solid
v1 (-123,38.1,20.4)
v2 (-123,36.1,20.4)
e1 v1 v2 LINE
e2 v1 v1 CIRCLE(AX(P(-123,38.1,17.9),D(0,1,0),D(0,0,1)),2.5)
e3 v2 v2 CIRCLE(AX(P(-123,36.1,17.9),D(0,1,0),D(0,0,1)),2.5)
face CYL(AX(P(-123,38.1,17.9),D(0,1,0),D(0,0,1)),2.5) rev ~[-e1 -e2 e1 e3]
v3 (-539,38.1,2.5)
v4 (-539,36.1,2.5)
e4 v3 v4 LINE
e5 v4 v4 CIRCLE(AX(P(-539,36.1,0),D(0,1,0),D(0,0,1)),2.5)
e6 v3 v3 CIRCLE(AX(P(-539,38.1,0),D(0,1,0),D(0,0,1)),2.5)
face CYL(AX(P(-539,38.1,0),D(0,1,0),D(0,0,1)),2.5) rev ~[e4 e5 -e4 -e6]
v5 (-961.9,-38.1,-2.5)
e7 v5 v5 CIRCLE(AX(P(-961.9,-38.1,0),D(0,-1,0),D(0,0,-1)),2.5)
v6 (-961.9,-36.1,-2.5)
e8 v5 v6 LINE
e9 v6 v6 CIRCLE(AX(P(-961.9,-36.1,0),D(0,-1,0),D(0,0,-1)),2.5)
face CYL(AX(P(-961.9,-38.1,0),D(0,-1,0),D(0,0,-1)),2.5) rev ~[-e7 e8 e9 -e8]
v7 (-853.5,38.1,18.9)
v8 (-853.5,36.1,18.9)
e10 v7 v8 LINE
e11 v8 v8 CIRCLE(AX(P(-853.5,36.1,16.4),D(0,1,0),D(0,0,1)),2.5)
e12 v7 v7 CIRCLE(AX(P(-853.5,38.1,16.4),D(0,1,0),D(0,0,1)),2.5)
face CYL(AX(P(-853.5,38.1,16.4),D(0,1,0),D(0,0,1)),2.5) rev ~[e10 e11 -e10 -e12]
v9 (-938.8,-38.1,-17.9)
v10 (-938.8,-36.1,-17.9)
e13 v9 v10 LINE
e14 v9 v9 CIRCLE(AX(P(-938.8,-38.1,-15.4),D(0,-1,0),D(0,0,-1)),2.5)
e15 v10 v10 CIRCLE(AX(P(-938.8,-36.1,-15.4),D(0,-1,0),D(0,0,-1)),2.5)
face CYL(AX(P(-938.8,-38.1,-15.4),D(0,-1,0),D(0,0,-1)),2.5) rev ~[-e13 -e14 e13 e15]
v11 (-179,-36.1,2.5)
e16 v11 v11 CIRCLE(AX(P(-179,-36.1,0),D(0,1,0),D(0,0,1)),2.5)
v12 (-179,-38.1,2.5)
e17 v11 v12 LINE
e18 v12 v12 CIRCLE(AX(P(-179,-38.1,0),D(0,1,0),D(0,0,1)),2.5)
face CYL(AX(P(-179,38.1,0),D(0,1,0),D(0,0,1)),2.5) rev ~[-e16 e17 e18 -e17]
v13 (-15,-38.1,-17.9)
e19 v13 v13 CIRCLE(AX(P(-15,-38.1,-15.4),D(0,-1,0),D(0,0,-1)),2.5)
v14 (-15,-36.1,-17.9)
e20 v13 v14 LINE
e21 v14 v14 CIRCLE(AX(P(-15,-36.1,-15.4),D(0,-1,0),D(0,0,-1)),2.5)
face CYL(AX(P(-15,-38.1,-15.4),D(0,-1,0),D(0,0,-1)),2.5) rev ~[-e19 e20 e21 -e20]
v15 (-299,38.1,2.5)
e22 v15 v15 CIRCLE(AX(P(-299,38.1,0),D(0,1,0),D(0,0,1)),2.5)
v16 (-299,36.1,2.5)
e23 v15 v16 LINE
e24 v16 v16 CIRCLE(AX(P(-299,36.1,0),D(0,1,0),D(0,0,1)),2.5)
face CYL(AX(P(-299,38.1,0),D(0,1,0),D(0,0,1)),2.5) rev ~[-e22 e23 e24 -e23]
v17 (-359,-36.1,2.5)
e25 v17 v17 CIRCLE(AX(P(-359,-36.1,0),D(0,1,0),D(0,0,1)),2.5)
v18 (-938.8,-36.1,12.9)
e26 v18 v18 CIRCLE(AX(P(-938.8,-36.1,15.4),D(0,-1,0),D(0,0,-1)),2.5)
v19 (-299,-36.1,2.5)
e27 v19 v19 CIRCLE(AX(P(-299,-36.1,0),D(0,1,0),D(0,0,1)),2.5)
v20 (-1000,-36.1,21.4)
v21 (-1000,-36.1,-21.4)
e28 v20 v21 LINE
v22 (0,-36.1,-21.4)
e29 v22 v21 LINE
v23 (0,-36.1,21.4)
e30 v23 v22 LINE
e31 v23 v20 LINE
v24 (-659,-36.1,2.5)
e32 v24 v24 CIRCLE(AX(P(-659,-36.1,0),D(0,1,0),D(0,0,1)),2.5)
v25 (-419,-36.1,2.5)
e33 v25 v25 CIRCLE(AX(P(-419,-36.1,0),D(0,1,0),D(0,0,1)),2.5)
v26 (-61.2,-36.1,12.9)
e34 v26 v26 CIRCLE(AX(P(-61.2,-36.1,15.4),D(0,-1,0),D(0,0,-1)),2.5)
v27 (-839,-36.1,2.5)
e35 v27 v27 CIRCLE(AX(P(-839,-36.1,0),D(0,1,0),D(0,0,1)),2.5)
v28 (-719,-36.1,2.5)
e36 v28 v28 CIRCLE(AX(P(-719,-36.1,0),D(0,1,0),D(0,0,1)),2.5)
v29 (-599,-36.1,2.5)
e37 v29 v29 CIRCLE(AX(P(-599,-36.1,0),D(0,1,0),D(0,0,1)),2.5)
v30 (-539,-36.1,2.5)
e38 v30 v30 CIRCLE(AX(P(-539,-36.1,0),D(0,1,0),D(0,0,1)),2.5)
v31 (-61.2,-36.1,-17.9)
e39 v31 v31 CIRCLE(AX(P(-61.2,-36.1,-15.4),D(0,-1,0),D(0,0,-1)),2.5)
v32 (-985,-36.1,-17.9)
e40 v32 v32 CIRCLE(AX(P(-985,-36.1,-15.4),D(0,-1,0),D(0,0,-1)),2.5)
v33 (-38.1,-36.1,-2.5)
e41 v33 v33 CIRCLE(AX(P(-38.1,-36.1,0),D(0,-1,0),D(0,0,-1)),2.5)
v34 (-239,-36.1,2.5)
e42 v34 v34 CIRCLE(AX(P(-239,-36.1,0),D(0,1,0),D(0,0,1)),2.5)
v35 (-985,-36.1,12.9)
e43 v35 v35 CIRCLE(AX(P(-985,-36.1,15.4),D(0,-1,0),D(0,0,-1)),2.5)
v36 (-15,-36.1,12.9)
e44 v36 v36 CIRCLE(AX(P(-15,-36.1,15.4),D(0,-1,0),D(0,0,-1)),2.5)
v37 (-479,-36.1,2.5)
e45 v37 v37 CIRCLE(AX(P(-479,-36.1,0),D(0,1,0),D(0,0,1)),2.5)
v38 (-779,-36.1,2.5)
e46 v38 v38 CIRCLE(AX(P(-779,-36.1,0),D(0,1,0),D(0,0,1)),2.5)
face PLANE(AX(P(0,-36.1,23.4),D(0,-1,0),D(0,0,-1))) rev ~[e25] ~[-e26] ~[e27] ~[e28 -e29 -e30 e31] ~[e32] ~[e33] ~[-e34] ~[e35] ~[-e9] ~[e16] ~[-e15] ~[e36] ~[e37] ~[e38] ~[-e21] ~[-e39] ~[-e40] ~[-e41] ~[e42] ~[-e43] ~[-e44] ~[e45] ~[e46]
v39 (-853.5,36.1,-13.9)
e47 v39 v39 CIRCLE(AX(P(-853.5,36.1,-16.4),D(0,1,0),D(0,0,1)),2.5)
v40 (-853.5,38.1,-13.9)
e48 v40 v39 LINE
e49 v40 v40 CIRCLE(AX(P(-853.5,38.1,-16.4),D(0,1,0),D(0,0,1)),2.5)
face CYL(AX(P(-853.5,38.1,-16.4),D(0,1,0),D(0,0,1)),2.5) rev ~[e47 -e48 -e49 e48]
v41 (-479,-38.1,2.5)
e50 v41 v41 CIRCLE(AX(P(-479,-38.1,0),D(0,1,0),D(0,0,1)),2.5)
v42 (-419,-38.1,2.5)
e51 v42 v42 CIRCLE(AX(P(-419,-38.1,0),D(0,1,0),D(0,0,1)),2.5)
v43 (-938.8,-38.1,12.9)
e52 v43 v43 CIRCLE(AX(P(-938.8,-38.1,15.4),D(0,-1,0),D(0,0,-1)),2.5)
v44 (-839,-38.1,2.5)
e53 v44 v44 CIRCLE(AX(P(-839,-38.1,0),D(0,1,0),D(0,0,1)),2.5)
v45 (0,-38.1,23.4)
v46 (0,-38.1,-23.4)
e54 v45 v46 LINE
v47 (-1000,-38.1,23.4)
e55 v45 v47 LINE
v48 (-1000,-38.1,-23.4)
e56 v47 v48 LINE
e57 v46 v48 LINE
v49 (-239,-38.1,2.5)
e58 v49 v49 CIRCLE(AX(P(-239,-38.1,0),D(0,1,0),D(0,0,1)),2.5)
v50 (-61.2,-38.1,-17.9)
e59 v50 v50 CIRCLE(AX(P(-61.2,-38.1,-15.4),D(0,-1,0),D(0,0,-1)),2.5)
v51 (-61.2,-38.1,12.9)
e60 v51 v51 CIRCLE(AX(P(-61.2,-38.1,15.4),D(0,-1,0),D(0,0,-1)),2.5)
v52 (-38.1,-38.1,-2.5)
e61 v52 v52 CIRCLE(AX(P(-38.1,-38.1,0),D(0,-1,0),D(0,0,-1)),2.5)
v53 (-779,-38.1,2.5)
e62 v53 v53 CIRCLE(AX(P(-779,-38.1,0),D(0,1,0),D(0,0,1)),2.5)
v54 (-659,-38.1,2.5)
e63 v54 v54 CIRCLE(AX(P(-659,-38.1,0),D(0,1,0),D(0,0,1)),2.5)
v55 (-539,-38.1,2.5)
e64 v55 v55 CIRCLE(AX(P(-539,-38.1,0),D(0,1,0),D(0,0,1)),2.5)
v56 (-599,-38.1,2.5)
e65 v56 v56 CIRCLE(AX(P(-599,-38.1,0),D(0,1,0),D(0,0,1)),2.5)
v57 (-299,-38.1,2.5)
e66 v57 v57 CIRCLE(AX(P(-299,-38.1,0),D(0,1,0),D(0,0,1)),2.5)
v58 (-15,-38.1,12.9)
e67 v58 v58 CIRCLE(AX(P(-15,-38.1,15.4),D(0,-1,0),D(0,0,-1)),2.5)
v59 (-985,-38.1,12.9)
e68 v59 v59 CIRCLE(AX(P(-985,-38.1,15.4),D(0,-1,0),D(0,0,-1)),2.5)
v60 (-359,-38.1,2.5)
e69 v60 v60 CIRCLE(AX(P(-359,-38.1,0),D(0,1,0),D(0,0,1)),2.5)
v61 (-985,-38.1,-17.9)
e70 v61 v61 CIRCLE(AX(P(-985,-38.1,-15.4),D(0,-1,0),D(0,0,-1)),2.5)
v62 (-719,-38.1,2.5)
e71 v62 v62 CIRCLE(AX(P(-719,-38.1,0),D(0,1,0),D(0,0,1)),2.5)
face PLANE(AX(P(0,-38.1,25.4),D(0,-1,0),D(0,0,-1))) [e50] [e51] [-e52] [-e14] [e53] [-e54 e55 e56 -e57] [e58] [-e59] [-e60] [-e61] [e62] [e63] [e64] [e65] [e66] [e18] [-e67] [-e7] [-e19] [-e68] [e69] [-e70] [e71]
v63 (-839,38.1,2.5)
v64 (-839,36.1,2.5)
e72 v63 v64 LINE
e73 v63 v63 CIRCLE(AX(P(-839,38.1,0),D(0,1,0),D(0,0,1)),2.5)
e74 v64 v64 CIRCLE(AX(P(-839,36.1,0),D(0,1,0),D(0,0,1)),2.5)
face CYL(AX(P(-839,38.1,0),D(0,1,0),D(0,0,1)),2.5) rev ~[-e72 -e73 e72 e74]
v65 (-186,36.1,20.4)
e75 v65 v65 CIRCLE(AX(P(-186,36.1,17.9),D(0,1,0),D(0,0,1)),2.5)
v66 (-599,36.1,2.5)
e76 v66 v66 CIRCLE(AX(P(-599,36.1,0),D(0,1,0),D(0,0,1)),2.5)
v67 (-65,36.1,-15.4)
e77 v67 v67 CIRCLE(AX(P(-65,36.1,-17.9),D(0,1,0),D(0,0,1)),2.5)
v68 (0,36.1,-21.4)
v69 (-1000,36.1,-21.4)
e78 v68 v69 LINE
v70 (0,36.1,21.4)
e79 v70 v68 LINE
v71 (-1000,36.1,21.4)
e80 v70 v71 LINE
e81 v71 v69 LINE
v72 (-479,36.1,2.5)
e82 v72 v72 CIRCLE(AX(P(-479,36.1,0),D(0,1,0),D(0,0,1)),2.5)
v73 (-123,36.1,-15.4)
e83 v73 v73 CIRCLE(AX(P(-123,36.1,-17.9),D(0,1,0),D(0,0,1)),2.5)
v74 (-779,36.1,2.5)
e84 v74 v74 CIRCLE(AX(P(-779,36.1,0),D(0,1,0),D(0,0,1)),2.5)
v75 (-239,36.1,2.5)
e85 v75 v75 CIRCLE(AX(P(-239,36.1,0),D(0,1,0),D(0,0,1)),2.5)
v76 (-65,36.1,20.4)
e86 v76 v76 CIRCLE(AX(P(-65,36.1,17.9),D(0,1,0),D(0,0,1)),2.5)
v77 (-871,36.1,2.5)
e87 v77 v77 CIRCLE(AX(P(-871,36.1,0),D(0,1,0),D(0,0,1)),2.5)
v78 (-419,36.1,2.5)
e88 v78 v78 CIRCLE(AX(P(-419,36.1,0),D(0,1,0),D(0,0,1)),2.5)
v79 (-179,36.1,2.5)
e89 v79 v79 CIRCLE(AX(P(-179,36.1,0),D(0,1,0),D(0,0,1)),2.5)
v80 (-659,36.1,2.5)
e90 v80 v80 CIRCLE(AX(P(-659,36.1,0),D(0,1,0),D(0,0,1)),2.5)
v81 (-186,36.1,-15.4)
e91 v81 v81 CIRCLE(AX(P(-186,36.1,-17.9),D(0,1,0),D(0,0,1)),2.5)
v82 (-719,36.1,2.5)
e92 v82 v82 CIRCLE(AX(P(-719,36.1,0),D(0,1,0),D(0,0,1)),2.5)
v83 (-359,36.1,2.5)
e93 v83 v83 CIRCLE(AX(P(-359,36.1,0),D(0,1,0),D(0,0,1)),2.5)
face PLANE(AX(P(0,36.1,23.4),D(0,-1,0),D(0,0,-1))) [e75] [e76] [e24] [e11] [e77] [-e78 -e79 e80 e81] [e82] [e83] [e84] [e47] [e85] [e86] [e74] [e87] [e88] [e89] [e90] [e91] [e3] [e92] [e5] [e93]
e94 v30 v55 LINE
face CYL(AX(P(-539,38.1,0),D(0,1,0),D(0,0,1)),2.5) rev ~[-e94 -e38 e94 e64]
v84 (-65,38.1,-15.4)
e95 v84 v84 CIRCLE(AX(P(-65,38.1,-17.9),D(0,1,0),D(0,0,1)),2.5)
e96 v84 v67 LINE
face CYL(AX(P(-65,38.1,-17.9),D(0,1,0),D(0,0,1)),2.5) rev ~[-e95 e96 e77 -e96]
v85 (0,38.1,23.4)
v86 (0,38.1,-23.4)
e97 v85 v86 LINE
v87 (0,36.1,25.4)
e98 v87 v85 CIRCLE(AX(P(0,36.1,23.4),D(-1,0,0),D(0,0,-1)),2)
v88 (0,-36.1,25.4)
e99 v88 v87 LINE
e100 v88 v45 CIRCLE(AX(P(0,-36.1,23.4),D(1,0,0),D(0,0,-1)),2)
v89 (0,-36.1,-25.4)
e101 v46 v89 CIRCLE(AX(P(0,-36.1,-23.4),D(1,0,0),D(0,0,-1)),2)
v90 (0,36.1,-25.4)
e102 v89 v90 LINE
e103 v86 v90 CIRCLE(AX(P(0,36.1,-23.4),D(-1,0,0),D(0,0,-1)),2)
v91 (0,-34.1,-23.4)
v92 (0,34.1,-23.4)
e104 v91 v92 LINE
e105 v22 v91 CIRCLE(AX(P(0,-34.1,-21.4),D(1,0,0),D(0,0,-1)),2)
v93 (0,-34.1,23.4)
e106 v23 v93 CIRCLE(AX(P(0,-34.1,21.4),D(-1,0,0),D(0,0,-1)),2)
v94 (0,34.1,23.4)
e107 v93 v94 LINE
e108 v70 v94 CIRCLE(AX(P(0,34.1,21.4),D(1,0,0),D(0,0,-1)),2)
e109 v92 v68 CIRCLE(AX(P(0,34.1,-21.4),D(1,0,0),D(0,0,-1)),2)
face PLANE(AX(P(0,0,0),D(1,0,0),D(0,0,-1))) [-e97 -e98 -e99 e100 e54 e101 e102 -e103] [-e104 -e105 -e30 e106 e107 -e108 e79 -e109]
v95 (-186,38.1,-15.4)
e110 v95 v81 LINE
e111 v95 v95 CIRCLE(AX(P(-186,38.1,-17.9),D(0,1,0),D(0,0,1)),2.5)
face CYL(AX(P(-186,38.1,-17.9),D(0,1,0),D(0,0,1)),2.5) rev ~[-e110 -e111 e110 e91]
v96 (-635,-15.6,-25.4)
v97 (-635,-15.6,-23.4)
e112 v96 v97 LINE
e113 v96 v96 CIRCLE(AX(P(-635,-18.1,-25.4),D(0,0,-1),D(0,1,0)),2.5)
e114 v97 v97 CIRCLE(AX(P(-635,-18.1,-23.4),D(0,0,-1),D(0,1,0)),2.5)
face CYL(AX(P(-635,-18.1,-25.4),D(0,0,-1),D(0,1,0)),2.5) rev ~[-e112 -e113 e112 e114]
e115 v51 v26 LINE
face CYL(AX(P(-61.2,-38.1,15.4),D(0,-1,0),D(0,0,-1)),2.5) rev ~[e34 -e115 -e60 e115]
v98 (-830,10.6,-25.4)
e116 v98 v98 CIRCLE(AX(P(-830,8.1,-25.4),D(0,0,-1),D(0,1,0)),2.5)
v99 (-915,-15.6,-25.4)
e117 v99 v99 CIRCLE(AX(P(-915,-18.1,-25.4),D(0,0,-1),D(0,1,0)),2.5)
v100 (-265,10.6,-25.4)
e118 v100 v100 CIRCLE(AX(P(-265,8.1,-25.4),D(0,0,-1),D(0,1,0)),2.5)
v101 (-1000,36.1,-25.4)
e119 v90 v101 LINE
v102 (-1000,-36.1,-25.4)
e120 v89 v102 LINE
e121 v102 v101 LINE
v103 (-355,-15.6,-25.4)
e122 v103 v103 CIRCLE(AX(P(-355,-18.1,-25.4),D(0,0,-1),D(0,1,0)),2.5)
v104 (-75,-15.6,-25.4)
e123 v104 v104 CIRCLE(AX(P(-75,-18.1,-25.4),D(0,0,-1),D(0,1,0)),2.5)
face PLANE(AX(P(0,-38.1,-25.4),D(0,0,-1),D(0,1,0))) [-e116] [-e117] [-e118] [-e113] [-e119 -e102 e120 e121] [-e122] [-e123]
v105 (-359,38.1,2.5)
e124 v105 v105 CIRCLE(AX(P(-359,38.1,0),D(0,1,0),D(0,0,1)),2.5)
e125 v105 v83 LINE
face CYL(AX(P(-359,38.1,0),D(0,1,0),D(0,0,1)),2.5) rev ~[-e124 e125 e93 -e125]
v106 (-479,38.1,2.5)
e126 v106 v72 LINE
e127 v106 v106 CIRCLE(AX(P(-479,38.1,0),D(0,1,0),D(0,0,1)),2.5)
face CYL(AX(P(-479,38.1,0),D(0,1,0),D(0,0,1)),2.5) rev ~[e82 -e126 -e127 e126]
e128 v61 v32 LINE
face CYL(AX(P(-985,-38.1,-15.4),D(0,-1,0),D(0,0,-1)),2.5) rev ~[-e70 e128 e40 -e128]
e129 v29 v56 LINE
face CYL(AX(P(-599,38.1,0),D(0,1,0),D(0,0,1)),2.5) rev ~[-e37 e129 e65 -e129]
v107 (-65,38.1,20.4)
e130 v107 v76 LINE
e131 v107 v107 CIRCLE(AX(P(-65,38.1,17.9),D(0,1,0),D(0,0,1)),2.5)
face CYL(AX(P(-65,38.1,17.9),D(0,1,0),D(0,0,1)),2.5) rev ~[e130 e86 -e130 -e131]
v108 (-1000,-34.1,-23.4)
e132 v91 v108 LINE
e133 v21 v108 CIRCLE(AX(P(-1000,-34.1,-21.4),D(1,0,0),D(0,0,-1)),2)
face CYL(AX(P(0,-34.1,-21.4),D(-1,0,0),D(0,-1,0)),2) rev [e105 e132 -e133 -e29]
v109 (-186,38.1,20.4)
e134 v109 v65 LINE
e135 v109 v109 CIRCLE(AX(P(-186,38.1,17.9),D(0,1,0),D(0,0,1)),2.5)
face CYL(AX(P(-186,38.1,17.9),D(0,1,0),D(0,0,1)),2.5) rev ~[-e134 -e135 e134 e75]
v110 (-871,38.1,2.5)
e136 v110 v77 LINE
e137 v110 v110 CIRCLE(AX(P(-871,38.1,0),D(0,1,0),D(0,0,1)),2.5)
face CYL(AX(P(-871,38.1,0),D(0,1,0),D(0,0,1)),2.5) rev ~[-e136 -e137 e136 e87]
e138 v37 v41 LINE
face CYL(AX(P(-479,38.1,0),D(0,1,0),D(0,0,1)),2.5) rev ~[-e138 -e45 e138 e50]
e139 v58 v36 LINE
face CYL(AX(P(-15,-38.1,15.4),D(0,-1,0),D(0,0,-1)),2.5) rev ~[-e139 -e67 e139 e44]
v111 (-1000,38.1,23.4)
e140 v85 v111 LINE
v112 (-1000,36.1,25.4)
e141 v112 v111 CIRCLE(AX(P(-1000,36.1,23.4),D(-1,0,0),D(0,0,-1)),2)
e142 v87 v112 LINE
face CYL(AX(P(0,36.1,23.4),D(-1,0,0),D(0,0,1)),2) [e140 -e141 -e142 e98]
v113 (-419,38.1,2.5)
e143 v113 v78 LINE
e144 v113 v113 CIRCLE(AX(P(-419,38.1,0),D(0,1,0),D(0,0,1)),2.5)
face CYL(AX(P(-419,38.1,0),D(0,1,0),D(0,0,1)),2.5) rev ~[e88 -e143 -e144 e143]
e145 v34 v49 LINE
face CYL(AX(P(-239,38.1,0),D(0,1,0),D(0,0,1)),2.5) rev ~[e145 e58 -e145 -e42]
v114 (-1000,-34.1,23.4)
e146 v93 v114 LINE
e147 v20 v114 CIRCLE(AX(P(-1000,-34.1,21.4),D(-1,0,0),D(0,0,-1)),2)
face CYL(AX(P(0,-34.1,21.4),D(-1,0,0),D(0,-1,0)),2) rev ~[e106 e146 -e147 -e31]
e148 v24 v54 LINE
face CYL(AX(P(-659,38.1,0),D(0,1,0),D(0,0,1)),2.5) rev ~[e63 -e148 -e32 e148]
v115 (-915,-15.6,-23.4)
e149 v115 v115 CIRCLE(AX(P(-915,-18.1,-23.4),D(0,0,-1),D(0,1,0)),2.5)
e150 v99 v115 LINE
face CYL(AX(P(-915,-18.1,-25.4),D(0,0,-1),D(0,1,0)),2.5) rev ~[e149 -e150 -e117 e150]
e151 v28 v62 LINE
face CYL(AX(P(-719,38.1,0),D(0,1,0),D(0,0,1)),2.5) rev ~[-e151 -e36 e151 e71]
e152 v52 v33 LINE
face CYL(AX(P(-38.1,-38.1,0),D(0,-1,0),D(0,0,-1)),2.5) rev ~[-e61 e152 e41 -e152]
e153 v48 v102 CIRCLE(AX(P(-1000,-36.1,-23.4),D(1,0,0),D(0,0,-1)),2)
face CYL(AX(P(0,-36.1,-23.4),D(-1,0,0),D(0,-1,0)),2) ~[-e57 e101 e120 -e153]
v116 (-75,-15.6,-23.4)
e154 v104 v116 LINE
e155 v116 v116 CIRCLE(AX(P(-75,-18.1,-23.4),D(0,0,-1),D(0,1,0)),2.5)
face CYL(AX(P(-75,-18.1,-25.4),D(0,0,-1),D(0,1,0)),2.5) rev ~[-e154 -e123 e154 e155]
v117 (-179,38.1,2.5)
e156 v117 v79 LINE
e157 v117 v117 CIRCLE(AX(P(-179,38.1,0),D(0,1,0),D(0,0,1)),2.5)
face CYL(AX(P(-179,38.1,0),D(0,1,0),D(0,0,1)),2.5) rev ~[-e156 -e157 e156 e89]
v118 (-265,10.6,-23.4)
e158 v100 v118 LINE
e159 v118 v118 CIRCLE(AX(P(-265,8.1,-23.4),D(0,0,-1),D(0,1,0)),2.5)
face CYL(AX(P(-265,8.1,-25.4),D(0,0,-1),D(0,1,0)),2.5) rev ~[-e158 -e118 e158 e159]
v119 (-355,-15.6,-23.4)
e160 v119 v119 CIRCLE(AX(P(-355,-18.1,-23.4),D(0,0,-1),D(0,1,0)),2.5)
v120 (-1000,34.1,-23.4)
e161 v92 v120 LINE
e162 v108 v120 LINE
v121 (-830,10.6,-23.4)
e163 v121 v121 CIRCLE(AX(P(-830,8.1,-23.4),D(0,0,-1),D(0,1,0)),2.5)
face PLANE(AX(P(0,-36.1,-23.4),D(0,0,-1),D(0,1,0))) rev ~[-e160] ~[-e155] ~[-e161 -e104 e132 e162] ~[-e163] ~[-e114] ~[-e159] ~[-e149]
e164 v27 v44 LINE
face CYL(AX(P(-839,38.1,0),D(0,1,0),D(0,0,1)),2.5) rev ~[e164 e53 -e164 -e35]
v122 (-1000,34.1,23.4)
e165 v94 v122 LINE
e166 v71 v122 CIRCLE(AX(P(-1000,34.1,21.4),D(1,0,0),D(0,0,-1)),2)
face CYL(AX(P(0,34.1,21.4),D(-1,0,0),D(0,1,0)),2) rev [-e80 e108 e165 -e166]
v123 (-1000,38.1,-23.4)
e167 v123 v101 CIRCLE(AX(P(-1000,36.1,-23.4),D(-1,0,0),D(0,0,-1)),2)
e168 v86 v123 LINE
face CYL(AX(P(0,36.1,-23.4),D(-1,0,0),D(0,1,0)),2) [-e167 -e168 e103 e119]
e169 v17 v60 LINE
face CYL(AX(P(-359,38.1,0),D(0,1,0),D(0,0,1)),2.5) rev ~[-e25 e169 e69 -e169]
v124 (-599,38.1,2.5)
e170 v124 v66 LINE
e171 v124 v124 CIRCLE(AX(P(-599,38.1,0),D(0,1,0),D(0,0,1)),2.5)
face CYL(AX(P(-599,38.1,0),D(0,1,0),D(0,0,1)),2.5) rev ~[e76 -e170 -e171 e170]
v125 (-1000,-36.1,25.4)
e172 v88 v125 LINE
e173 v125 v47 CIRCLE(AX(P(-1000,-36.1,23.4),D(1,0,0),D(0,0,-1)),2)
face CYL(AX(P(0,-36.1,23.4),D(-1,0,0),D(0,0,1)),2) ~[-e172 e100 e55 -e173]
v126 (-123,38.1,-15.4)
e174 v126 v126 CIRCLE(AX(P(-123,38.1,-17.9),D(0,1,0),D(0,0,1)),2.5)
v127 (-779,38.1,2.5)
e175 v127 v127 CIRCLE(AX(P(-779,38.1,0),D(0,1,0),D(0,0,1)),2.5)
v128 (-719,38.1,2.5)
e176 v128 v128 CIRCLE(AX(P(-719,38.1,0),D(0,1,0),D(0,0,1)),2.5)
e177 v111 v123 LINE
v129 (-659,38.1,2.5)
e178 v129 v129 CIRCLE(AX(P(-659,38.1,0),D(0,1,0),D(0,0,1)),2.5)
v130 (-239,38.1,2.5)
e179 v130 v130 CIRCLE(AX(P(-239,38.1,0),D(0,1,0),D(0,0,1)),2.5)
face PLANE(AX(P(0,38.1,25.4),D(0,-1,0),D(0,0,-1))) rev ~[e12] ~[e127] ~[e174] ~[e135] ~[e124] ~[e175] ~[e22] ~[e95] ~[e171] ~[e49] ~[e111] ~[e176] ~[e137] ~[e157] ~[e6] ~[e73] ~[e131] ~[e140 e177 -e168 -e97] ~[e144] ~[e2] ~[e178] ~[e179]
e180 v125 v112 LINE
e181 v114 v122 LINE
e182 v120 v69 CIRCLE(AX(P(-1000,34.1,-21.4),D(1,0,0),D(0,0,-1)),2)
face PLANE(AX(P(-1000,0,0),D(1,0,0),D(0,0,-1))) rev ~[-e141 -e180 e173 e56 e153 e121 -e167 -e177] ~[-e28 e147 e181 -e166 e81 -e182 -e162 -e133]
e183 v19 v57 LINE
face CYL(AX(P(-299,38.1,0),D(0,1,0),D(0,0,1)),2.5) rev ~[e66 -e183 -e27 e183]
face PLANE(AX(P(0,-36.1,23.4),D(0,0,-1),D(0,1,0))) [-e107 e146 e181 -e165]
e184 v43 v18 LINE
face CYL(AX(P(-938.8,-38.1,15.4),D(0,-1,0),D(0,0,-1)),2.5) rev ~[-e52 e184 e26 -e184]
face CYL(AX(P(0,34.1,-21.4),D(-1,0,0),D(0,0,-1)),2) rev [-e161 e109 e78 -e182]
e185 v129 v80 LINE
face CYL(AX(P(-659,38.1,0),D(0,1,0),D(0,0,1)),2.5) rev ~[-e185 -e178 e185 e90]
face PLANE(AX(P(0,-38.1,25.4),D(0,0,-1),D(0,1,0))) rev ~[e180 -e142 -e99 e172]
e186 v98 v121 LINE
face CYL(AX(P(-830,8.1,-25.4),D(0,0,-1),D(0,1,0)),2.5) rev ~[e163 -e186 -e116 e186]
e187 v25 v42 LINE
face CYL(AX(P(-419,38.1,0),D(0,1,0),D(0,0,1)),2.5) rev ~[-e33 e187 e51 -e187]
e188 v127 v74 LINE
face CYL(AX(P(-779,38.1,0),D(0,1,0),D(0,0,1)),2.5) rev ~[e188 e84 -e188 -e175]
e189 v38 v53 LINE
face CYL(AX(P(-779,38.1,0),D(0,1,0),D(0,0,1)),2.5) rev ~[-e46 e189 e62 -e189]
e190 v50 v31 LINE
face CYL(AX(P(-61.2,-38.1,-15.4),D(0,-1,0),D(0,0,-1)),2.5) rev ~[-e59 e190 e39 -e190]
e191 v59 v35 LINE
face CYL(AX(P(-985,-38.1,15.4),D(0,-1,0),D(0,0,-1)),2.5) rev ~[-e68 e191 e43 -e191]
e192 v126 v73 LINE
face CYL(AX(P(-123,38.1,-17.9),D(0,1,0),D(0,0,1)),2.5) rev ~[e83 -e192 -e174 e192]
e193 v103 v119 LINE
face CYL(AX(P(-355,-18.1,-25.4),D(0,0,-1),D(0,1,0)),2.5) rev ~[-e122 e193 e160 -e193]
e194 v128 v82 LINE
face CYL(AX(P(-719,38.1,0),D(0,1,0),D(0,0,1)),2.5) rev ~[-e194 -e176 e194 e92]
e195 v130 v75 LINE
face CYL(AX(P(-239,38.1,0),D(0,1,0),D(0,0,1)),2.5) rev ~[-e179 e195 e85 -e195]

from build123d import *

# Parameters (mm, degrees)
SKETCH1_W             = 50.8
SKETCH1_H             = 76.2
BOSS_EXTRUDE1_DEPTH   = 1000
SKETCH2_W             = 46.8
SKETCH2_H             = 72.2
CUT_EXTRUDE1_DEPTH    = 1002.04783602
FILLET2_R             = 2
CROQUIS2_R            = 2.5
CORTAR_EXTRUIR2_DEPTH = 10
CROQUIS3_R            = 2.5
CORTAR_EXTRUIR3_DEPTH = 10
CROQUIS4_R            = 2.5
CORTAR_EXTRUIR4_DEPTH = 10
CROQUIS5_R            = 2.5
CORTAR_EXTRUIR5_DEPTH = 10
CROQUIS6_R            = 2.5
CORTAR_EXTRUIR6_DEPTH = 1004.220613823
MATRIZL1_COUNT        = 12
MATRIZL1_PITCH        = 60
CROQUIS7_R            = 2.5
CORTAR_EXTRUIR7_DEPTH = 10


with BuildPart() as part:
    # Sketch1 → Boss-Extrude1 (new body)
    with BuildSketch(Plane(origin=(0, 0, 0), x_dir=(0, 0, -1), z_dir=(1, 0, 0))):
        Rectangle(SKETCH1_W, SKETCH1_H)
    extrude(amount=-BOSS_EXTRUDE1_DEPTH)

    # Sketch2 → Cut-Extrude1 (cut, through all)
    with BuildSketch(Plane(origin=(0, 0, 0), x_dir=(0, 0, -1), z_dir=(1, 0, 0))):
        Rectangle(SKETCH2_W, SKETCH2_H)
    extrude(amount=-CUT_EXTRUDE1_DEPTH, mode=Mode.SUBTRACT)

    # Fillet2
    fillet2_edges = [part.edges().sort_by_distance(p)[0] for p in [
        (-500, -36.1, 23.4),
        (-500, 36.1, 23.4),
        (-500, 36.1, -23.4),
        (-500, -36.1, -23.4),
        (-500, 38.1, 25.4),
        (-500, 38.1, -25.4),
        (-500, -38.1, -25.4),
        (-500, -38.1, 25.4),
    ]]
    fillet(fillet2_edges, radius=FILLET2_R)

    # Croquis2 → Cortar-Extruir2 (cut)
    with BuildSketch(Plane.XZ.offset(38.1)):
        with Locations(Location((-61.2, 15.4, 0), (0, 0, 270))):
            Circle(CROQUIS2_R)
        with Locations(Location((-38.1, 0, 0), (0, 0, 270))):
            Circle(CROQUIS2_R)
        with Locations(Location((-61.2, -15.4, 0), (0, 0, 270))):
            Circle(CROQUIS2_R)
        with Locations(Location((-15, -15.4, 0), (0, 0, 270))):
            Circle(CROQUIS2_R)
        with Locations(Location((-15, 15.4, 0), (0, 0, 270))):
            Circle(CROQUIS2_R)
    extrude(amount=-CORTAR_EXTRUIR2_DEPTH, mode=Mode.SUBTRACT)

    # Croquis3 → Cortar-Extruir3 (cut)
    with BuildSketch(Plane.XZ.offset(38.1)):
        with Locations(Location((-985, 15.4, 0), (0, 0, 270))):
            Circle(CROQUIS3_R)
        with Locations(Location((-938.8, 15.4, 0), (0, 0, 270))):
            Circle(CROQUIS3_R)
        with Locations(Location((-961.9, 0, 0), (0, 0, 270))):
            Circle(CROQUIS3_R)
        with Locations(Location((-985, -15.4, 0), (0, 0, 270))):
            Circle(CROQUIS3_R)
        with Locations(Location((-938.8, -15.4, 0), (0, 0, 270))):
            Circle(CROQUIS3_R)
    extrude(amount=-CORTAR_EXTRUIR3_DEPTH, mode=Mode.SUBTRACT)

    # Croquis4 → Cortar-Extruir4 (cut)
    with BuildSketch(Plane(origin=(0, 38.1, 0), x_dir=(1, 0, 0), z_dir=(0, 1, 0))):
        with Locations(Location((-853.5, 16.4, 0), (0, 0, 270))):
            Circle(CROQUIS4_R)
        with Locations(Location((-853.5, -16.4, 0), (0, 0, 270))):
            Circle(CROQUIS4_R)
        with Locations(Location((-871, 0, 0), (0, 0, 270))):
            Circle(CROQUIS4_R)
    extrude(amount=-CORTAR_EXTRUIR4_DEPTH, mode=Mode.SUBTRACT)

    # Croquis5 → Cortar-Extruir5 (cut)
    with BuildSketch(Plane(origin=(0, 38.1, 0), x_dir=(1, 0, 0), z_dir=(0, 1, 0))):
        with Locations(Location((-186, 17.9, 0), (0, 0, 270))):
            Circle(CROQUIS5_R)
        with Locations(Location((-186, -17.9, 0), (0, 0, 270))):
            Circle(CROQUIS5_R)
        with Locations(Location((-123, -17.9, 0), (0, 0, 270))):
            Circle(CROQUIS5_R)
        with Locations(Location((-123, 17.9, 0), (0, 0, 270))):
            Circle(CROQUIS5_R)
        with Locations(Location((-65, 17.9, 0), (0, 0, 270))):
            Circle(CROQUIS5_R)
        with Locations(Location((-65, -17.9, 0), (0, 0, 270))):
            Circle(CROQUIS5_R)
    extrude(amount=-CORTAR_EXTRUIR5_DEPTH, mode=Mode.SUBTRACT)

    # Croquis6 → Cortar-Extruir6 (cut, through all)
    with BuildSketch(Plane(origin=(0, 38.1, 0), x_dir=(1, 0, 0), z_dir=(0, 1, 0))):
        with Locations(Location((-179, 0, 0), (0, 0, 270))):
            Circle(CROQUIS6_R)
    cortar_extruir6 = extrude(amount=-CORTAR_EXTRUIR6_DEPTH, mode=Mode.SUBTRACT)

    # MatrizL1: Cortar-Extruir6 ×12
    with Locations(*[(-i * MATRIZL1_PITCH, 0, 0) for i in range(1, MATRIZL1_COUNT)]):
        add(cortar_extruir6, mode=Mode.SUBTRACT)

    # Croquis7 → Cortar-Extruir7 (cut)
    with BuildSketch(Plane(origin=(0, 0, -25.4), x_dir=(-1, 0, 0), z_dir=(0, 0, -1))):
        with Locations(Location((75, -18.1, 0), (0, 0, 90))):
            Circle(CROQUIS7_R)
        with Locations(Location((355, -18.1, 0), (0, 0, 90))):
            Circle(CROQUIS7_R)
        with Locations(Location((635, -18.1, 0), (0, 0, 90))):
            Circle(CROQUIS7_R)
        with Locations(Location((915, -18.1, 0), (0, 0, 90))):
            Circle(CROQUIS7_R)
        with Locations(Location((265, 8.1, 0), (0, 0, 90))):
            Circle(CROQUIS7_R)
        with Locations(Location((830, 8.1, 0), (0, 0, 90))):
            Circle(CROQUIS7_R)
    extrude(amount=-CORTAR_EXTRUIR7_DEPTH, mode=Mode.SUBTRACT)


solid = part.part
